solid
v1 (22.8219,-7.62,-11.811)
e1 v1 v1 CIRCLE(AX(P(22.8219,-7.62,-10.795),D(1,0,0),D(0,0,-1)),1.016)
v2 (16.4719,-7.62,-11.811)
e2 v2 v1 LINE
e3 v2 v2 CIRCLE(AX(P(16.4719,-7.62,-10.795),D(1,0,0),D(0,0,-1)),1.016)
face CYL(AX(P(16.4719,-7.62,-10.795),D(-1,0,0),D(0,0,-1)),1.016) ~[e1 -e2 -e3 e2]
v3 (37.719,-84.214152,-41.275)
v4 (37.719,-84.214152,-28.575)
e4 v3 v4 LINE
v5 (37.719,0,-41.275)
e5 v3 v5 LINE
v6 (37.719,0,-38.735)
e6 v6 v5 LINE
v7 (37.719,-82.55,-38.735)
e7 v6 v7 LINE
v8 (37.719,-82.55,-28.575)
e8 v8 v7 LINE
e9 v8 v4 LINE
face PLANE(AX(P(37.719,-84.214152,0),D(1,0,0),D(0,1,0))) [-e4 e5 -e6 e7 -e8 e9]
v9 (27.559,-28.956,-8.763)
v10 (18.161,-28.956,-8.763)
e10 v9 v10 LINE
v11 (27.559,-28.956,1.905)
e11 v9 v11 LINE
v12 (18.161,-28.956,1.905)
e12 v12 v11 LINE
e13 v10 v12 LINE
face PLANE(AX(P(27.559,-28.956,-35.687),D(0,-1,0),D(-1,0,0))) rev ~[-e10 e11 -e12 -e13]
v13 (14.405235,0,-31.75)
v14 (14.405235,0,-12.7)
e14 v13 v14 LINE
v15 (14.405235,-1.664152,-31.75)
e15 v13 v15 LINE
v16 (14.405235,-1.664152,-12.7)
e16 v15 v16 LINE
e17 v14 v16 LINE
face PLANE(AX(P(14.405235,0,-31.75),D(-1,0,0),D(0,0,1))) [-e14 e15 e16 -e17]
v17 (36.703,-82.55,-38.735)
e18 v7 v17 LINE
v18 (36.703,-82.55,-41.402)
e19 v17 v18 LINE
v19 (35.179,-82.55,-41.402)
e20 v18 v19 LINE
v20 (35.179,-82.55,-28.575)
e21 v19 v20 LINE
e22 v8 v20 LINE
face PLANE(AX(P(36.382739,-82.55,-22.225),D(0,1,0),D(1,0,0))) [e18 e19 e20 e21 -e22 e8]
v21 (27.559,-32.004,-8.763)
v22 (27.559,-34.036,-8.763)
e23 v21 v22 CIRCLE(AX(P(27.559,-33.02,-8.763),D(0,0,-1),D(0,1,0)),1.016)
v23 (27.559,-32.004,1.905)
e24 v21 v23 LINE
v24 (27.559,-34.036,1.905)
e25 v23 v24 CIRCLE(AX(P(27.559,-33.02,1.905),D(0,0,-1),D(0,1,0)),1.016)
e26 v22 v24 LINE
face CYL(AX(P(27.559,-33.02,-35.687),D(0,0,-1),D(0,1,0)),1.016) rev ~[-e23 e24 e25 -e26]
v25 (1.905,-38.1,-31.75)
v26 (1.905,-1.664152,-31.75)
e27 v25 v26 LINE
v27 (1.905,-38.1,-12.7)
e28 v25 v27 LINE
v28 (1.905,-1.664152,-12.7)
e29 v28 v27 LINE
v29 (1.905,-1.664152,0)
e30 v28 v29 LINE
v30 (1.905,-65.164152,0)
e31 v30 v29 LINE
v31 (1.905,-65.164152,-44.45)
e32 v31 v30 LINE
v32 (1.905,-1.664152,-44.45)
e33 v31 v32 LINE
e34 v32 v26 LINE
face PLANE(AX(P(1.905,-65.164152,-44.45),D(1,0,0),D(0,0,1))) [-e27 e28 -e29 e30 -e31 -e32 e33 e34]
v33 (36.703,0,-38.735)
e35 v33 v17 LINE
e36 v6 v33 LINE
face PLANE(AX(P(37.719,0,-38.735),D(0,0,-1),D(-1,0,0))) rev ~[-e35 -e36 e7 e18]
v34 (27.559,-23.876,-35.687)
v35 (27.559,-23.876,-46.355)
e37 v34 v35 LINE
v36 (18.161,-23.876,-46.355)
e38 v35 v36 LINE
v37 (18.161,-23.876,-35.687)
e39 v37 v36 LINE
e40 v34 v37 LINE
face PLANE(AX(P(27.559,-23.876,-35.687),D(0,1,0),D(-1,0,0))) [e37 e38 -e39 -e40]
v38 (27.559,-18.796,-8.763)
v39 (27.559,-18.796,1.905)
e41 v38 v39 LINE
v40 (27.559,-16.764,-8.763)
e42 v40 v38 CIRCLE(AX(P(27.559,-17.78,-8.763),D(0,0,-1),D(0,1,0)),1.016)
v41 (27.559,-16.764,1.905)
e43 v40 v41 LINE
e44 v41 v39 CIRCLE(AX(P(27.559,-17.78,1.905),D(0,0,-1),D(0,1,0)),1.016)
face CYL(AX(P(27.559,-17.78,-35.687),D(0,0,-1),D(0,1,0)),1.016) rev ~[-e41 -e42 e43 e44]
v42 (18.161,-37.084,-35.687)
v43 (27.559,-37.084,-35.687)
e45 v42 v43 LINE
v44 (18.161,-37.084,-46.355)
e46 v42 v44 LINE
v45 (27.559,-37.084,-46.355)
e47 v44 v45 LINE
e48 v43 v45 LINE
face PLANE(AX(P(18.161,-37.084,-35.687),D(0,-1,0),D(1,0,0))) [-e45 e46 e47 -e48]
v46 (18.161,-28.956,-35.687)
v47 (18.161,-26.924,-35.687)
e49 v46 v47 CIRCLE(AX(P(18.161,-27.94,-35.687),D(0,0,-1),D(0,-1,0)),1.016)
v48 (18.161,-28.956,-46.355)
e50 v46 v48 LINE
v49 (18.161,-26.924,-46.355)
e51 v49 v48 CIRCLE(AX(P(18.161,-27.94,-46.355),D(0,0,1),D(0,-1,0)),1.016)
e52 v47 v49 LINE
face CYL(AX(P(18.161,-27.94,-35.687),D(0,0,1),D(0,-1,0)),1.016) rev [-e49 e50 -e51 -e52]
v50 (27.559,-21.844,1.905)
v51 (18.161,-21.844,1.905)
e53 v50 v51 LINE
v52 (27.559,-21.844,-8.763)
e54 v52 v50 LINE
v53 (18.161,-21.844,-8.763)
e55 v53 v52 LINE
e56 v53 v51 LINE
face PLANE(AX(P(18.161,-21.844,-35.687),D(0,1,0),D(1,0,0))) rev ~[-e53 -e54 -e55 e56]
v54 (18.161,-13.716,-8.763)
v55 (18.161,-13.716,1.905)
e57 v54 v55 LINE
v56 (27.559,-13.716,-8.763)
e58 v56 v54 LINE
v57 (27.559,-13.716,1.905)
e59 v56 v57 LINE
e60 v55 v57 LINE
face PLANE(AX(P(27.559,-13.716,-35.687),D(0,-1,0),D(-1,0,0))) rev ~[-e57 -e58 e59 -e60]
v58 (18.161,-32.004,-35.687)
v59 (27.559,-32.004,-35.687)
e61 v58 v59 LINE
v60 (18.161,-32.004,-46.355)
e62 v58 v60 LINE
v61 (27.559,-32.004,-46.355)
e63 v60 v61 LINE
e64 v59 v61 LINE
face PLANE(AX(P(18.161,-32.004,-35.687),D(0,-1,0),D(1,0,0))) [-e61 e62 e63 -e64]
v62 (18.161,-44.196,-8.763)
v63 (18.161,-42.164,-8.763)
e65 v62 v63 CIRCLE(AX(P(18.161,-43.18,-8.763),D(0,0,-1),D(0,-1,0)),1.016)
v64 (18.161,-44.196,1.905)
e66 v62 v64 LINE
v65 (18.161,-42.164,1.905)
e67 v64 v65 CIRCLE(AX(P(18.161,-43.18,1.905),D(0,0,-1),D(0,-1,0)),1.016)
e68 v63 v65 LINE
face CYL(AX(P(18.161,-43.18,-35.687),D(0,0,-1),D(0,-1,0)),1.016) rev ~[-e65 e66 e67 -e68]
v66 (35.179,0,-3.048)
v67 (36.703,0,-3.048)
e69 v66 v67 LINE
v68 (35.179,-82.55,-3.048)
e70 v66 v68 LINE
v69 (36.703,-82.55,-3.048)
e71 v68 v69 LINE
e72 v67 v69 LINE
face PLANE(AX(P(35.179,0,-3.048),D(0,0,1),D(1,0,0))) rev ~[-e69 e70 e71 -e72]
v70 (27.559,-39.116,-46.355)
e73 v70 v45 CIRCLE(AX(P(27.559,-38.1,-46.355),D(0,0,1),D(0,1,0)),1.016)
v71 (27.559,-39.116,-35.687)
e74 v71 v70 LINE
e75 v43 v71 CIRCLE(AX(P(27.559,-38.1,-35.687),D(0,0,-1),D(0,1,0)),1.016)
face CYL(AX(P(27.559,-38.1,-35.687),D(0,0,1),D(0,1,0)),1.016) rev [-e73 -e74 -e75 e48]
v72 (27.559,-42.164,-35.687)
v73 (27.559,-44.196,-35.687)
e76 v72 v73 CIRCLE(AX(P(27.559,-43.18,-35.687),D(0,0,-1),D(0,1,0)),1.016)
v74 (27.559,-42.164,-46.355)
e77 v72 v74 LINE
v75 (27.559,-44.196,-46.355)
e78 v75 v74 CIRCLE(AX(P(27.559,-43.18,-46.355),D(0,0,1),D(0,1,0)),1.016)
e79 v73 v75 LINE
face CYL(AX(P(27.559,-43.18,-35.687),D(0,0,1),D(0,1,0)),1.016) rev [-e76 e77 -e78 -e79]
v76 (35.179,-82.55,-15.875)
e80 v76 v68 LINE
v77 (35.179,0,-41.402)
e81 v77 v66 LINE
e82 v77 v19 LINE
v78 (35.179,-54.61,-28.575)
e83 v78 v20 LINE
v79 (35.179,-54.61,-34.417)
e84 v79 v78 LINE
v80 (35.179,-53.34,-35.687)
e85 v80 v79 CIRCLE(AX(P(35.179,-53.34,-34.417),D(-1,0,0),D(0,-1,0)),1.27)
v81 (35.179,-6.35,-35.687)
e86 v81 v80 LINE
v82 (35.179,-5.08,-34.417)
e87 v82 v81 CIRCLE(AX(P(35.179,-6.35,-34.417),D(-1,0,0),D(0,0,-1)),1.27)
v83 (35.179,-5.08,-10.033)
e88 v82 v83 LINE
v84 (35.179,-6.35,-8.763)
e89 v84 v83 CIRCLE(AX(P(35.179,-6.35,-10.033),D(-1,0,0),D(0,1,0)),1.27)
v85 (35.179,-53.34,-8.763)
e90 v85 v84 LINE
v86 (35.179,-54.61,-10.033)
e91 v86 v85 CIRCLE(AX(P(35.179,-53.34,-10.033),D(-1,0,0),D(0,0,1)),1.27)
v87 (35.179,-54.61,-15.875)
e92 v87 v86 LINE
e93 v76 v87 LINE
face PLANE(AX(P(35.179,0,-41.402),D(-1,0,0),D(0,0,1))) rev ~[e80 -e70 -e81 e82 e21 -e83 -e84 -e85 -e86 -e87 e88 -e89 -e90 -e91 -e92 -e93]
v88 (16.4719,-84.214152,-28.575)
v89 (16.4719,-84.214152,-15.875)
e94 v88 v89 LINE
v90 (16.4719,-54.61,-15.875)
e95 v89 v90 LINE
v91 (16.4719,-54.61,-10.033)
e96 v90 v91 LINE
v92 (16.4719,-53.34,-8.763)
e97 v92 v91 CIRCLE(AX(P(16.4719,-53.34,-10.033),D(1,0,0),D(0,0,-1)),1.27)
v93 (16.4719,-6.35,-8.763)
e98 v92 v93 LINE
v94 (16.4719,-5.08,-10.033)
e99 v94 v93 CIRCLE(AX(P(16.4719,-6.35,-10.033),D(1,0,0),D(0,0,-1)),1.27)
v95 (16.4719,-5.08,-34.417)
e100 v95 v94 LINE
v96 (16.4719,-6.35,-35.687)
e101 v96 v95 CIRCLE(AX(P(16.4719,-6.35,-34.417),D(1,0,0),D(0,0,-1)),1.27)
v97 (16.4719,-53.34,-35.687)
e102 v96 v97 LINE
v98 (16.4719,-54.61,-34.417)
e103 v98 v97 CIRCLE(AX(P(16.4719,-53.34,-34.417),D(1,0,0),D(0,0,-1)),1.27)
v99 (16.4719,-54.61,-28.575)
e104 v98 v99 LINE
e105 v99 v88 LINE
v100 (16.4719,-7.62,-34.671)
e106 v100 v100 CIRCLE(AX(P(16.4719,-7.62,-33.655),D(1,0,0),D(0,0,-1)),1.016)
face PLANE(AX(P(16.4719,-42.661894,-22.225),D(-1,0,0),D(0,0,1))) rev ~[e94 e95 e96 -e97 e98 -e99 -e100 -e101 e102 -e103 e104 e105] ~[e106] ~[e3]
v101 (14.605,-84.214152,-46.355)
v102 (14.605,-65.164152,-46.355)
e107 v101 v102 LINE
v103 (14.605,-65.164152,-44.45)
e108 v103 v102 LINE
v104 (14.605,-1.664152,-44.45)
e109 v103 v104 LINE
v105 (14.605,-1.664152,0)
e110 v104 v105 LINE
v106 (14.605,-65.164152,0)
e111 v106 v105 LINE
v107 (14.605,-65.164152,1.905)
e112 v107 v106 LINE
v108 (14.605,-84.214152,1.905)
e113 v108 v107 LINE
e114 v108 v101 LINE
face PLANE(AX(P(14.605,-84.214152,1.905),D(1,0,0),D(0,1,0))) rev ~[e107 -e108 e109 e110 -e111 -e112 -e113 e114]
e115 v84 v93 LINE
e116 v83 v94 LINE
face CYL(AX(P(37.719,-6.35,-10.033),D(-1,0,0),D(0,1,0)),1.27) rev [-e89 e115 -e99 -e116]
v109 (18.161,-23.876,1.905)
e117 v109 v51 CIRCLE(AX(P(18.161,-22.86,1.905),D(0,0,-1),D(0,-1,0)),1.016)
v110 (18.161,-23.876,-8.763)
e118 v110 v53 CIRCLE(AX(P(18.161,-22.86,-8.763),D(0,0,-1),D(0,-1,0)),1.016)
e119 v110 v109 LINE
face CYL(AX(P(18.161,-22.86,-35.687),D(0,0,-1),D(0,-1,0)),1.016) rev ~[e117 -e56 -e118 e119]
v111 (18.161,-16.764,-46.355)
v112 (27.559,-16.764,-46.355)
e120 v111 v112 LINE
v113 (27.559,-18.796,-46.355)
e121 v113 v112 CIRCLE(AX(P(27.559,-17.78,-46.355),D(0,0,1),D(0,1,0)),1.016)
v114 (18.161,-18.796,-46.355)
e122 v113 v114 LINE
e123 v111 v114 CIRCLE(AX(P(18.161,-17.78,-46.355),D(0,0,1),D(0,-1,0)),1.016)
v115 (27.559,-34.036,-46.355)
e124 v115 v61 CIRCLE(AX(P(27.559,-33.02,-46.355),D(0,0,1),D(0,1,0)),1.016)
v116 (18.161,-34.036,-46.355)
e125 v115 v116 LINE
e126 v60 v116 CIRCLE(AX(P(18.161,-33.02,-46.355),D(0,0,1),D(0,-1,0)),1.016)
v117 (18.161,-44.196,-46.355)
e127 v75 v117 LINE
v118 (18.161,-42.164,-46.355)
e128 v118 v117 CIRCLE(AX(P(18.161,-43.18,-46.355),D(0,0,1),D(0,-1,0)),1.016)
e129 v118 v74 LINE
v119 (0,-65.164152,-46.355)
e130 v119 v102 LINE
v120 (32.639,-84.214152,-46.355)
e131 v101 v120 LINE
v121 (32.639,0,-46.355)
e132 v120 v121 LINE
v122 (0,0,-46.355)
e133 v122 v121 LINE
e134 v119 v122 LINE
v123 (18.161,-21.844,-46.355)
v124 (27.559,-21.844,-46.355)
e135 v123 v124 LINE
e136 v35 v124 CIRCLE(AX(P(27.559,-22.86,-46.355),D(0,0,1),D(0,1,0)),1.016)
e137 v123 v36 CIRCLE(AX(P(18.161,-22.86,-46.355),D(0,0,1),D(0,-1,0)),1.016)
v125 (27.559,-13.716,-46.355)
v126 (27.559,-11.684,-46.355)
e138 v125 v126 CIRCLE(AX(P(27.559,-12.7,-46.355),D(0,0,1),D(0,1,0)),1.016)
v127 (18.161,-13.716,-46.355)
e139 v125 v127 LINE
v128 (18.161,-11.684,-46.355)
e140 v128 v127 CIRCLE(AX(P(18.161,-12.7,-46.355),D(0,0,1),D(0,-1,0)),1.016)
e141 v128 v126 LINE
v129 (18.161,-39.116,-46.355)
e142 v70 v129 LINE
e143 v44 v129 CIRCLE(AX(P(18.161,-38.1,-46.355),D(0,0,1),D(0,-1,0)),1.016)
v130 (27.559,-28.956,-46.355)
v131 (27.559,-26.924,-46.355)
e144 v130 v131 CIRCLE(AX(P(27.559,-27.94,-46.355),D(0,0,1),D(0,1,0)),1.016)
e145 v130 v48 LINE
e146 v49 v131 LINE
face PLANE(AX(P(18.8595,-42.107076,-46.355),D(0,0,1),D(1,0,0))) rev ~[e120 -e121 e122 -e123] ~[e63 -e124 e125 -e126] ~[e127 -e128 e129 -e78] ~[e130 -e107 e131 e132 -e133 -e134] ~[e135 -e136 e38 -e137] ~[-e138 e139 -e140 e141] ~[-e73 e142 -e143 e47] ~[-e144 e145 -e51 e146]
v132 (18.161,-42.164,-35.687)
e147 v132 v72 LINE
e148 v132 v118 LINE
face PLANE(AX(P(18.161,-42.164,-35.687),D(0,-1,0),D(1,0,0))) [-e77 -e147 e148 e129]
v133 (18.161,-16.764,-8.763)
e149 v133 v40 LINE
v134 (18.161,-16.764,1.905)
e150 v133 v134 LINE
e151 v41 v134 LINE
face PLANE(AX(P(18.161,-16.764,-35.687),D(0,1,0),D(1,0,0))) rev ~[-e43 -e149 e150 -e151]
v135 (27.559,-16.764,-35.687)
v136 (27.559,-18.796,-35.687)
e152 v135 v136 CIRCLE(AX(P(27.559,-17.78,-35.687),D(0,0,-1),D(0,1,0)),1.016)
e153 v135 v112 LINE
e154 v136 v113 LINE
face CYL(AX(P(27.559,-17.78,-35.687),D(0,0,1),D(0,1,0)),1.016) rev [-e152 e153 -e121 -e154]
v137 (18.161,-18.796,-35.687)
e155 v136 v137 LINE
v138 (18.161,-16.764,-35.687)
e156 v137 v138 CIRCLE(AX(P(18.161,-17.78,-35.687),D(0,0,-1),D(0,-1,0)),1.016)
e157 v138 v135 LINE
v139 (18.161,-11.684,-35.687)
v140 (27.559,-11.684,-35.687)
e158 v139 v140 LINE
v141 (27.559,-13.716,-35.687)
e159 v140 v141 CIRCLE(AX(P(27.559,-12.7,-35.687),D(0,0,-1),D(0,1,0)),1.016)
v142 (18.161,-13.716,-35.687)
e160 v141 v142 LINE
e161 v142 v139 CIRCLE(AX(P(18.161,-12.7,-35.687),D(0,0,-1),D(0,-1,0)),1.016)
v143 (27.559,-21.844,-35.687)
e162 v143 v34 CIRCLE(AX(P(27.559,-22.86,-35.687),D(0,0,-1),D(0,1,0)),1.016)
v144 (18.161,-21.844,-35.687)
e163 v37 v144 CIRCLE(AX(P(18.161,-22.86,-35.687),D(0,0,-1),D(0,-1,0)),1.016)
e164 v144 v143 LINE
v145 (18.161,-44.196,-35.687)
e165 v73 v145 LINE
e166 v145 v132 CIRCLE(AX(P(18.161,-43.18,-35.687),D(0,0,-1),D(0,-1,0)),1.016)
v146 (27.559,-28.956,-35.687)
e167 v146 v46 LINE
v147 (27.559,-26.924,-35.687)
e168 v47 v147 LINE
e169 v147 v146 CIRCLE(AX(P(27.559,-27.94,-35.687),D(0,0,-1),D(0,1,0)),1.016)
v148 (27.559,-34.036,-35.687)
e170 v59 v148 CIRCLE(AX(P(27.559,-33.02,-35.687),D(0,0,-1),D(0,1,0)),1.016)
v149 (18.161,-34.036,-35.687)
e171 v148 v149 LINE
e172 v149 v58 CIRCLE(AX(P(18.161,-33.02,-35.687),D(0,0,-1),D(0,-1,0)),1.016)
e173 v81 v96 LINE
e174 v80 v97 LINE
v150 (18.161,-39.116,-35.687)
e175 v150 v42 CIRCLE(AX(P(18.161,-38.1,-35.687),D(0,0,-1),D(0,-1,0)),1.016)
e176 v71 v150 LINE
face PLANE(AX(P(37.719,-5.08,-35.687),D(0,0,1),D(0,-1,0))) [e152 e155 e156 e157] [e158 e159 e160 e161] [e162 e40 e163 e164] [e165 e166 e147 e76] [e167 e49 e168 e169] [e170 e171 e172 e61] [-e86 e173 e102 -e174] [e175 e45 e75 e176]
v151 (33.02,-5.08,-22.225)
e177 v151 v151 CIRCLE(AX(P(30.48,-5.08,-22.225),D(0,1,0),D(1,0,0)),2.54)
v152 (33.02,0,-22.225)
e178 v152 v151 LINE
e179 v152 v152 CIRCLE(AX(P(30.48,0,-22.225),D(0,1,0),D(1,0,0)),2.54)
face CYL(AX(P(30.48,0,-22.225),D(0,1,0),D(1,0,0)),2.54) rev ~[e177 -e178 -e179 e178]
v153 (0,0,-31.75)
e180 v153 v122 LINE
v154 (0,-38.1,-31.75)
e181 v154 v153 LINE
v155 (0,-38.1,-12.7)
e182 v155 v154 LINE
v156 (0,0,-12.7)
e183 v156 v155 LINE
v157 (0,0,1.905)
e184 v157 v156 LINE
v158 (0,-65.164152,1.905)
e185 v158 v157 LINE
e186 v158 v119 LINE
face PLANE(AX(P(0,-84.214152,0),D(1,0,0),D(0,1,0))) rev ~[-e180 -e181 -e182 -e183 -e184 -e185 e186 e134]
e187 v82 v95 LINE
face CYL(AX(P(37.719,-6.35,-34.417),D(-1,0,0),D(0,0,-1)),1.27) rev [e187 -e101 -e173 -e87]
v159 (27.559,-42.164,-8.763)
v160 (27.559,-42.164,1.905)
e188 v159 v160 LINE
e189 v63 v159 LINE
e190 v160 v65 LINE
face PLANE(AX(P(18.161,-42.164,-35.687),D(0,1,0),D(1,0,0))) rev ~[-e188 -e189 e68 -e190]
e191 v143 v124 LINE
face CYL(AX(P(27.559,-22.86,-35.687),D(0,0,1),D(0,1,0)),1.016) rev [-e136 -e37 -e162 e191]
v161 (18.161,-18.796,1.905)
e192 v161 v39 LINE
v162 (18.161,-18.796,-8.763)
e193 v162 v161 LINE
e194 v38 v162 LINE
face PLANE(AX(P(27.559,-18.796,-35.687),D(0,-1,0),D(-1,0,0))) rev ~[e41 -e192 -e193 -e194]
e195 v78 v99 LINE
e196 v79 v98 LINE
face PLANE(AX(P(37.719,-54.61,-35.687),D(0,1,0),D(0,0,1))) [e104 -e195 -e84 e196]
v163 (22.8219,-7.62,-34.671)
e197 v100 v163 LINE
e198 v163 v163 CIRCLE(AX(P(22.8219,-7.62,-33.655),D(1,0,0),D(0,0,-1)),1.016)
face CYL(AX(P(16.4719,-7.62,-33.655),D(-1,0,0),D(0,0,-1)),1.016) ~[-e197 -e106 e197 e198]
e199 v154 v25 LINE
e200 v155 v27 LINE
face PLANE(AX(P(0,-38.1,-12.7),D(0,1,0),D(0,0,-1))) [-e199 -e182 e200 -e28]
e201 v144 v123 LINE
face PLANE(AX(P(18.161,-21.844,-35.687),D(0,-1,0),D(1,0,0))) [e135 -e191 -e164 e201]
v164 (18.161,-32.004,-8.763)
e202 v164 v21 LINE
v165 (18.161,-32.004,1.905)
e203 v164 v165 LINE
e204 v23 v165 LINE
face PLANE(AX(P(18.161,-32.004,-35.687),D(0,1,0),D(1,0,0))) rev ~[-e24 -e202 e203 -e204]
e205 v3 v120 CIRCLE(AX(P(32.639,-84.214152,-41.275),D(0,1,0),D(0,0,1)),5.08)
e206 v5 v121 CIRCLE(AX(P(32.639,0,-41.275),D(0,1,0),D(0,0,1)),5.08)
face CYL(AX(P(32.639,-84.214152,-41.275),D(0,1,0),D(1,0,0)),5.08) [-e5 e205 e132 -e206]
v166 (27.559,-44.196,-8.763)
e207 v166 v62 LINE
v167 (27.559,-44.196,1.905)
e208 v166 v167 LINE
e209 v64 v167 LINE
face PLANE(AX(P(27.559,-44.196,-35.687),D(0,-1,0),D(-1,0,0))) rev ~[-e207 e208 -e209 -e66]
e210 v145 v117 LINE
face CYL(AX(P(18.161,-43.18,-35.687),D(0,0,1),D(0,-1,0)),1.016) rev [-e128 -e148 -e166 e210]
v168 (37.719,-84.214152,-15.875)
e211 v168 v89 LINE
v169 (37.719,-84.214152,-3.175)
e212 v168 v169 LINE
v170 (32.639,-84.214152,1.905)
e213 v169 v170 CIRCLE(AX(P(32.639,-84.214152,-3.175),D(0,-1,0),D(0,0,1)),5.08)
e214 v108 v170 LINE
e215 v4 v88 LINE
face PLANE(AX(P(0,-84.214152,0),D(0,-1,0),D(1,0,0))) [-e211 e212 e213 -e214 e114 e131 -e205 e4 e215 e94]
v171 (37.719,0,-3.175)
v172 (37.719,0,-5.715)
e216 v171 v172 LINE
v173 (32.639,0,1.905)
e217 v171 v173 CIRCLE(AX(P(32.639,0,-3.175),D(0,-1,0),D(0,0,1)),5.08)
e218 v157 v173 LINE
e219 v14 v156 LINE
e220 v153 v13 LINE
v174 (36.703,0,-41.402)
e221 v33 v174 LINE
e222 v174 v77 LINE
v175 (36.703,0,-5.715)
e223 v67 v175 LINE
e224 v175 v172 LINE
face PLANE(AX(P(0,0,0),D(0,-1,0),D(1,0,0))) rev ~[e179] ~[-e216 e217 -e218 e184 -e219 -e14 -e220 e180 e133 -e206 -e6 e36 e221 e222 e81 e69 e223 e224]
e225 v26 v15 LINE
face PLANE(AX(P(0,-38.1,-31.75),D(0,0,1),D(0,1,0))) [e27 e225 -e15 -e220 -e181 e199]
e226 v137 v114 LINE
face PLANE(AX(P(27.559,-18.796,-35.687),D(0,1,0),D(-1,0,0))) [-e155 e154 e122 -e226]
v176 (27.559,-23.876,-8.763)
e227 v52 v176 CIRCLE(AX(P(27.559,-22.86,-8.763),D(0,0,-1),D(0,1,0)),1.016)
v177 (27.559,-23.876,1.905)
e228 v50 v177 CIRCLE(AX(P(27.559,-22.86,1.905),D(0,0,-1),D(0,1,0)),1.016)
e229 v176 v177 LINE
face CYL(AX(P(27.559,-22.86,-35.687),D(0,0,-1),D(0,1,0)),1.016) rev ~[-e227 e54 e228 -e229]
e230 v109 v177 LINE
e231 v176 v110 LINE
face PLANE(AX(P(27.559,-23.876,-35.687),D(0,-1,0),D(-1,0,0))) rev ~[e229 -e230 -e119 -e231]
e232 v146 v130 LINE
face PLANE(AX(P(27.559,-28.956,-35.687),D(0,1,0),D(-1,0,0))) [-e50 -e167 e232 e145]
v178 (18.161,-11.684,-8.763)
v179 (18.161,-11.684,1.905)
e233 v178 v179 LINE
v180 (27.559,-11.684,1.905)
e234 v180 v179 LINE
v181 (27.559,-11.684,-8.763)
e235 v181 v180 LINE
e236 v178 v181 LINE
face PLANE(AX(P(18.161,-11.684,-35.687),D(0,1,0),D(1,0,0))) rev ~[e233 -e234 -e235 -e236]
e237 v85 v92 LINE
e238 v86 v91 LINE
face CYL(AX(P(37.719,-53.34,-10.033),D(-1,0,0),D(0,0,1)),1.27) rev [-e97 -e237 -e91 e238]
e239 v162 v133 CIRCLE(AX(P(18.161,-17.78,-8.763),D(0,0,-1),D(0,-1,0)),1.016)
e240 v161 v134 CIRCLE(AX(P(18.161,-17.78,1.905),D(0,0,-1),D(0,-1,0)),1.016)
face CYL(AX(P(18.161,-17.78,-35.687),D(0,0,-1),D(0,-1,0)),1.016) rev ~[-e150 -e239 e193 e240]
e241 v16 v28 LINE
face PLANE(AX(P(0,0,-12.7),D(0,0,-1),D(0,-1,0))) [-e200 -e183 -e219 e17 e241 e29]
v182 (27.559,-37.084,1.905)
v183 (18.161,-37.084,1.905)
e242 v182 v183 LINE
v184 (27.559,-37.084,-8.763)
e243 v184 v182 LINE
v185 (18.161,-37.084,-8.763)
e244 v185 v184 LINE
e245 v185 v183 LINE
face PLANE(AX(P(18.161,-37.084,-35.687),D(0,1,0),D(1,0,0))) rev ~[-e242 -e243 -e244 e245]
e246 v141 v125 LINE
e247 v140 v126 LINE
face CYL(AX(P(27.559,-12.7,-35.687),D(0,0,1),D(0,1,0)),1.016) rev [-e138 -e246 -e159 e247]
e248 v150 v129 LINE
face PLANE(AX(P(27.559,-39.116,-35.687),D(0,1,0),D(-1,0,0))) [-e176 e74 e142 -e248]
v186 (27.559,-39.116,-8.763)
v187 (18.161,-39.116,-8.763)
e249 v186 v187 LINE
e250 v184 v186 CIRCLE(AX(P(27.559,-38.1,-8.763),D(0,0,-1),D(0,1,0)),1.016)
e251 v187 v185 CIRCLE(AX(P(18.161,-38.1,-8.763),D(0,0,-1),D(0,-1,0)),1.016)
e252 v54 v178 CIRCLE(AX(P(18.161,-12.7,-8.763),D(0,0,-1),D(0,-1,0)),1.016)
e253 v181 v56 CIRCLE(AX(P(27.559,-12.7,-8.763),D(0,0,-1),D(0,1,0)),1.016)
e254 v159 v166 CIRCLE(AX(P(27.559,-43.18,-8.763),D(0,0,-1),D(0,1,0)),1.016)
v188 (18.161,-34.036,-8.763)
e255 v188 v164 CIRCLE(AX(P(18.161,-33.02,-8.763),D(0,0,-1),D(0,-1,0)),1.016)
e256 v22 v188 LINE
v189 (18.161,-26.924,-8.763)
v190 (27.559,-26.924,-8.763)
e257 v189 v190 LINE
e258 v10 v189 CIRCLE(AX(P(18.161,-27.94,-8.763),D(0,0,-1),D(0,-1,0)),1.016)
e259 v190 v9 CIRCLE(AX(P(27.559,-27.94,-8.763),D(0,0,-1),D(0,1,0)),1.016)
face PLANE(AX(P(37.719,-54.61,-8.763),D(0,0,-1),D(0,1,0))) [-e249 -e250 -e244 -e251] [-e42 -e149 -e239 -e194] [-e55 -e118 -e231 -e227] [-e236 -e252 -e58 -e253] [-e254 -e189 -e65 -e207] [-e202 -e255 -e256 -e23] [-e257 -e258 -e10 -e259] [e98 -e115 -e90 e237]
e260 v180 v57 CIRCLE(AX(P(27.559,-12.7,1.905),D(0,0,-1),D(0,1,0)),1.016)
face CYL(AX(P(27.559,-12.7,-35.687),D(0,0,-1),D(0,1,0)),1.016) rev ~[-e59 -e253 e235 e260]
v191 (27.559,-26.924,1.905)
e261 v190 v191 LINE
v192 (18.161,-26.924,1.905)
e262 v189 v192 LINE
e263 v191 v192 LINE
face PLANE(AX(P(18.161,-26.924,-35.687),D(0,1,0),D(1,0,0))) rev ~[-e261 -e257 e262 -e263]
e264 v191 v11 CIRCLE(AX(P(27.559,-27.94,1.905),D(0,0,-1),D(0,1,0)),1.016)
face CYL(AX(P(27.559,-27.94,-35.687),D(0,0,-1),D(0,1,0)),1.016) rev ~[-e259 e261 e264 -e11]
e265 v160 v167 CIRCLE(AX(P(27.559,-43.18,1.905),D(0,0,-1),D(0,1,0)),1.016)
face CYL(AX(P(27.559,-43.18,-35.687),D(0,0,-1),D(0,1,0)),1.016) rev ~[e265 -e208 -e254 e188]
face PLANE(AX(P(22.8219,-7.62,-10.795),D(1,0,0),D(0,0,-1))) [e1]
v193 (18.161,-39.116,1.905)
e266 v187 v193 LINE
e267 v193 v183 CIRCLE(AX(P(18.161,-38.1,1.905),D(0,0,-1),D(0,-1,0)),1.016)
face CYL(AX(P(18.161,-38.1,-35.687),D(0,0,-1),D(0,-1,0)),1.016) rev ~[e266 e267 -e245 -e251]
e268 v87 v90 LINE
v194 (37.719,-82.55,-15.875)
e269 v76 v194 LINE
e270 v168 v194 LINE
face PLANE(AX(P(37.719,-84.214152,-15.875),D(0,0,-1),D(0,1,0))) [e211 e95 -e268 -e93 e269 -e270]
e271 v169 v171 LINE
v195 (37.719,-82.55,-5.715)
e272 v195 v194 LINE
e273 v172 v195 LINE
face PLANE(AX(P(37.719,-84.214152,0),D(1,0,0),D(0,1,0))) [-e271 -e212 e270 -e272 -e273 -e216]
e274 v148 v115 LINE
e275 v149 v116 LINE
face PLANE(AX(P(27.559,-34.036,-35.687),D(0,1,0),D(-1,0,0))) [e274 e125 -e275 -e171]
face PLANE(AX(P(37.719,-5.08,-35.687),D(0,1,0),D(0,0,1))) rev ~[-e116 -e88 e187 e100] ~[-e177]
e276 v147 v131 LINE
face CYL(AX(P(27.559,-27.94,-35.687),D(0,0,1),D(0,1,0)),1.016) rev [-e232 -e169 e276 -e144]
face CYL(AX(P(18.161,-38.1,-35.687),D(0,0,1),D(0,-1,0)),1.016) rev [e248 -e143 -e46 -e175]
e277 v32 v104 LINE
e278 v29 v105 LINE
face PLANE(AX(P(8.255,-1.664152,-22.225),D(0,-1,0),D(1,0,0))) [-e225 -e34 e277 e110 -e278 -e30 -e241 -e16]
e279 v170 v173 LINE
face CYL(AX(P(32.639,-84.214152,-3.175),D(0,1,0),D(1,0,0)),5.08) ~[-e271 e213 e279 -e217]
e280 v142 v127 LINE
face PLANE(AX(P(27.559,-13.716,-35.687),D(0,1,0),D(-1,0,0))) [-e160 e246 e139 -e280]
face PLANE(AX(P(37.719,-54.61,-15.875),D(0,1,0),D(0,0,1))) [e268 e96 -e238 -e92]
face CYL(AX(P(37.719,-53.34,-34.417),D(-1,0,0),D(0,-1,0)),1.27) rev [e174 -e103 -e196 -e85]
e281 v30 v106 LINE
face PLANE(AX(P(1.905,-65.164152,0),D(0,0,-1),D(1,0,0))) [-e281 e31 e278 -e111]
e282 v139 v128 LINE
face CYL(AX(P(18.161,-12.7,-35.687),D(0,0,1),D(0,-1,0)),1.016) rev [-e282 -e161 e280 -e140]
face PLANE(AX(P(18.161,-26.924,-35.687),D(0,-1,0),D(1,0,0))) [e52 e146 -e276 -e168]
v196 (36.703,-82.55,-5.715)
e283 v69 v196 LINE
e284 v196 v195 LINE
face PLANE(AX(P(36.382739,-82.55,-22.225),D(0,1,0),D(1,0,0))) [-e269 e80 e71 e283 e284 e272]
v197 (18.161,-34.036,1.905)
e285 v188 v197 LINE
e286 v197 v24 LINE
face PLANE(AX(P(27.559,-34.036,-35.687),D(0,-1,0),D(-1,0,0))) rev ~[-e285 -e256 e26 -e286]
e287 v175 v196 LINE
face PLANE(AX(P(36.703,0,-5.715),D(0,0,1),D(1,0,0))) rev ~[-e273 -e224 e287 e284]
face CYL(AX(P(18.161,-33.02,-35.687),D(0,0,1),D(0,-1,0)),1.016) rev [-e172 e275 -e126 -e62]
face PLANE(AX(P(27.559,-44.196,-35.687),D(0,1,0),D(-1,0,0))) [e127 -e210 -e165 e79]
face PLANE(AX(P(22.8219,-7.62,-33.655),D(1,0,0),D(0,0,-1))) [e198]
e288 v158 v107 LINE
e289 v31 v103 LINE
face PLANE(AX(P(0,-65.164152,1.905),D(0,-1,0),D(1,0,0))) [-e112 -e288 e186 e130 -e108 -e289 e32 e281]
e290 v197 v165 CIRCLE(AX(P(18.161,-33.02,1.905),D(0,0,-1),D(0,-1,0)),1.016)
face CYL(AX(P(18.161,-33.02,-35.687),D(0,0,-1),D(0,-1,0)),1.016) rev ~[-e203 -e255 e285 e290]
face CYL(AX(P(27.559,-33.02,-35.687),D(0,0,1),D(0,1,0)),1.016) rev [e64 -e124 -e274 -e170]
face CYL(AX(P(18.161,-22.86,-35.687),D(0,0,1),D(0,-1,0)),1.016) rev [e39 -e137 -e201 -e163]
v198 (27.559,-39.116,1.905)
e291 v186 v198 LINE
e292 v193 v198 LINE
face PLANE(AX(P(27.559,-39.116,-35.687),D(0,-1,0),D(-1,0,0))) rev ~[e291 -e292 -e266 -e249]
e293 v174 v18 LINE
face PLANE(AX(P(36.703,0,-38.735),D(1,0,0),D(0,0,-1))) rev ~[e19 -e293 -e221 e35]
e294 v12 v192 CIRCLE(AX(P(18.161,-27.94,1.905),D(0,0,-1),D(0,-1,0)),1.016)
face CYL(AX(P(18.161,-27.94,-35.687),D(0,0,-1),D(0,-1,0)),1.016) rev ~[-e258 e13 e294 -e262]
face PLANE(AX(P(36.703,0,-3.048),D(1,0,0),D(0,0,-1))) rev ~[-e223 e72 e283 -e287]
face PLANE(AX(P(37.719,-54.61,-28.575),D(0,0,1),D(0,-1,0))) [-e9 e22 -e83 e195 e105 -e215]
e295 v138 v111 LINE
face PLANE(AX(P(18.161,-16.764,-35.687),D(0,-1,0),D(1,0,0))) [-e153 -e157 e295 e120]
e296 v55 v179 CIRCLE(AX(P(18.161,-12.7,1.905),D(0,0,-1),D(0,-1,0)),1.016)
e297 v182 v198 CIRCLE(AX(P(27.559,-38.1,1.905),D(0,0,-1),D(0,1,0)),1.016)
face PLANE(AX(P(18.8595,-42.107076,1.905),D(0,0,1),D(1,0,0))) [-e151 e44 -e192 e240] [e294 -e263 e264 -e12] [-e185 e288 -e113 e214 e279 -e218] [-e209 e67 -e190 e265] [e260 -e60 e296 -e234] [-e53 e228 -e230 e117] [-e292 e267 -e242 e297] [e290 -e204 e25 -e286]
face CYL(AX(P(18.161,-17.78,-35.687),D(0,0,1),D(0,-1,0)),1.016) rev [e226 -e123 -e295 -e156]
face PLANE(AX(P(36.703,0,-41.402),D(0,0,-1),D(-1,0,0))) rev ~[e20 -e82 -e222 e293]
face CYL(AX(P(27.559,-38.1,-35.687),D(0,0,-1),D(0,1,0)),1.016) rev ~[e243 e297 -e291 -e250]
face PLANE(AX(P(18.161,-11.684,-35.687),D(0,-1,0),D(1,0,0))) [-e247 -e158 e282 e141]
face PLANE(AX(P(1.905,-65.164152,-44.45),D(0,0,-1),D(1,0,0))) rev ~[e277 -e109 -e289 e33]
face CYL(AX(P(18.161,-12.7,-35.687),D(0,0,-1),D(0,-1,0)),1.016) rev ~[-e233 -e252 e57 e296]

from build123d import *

# Parameters (mm, degrees)
SKETCH1_W                = 37.719
SKETCH1_H                = 84.214152012
BOSS_EXTRUDE1_DEPTH      = 1.905
BOSS_EXTRUDE1_DEPTH_BACK = 46.355
SKETCH3_W                = 14.605
SKETCH3_H                = 19.05
CUT_EXTRUDE1_DEPTH       = 49.26
CUT_EXTRUDE2_DEPTH       = 65.405
CUT_EXTRUDE3_REACH       = 39.719
SKETCH6_W                = 12.7
SKETCH6_H                = 44.45
CUT_EXTRUDE4_DEPTH       = 63.5
CUT_EXTRUDE5_DEPTH       = 21.2471
SKETCH8_R                = 1.016
BOSS_EXTRUDE2_DEPTH      = 6.35
FILLET1_R                = 1.27
CUT_EXTRUDE7_DEPTH       = 82.55
FILLET2_R                = 5.08
CUT_EXTRUDE8_DEPTH       = 38.592
CUT_EXTRUDE8_DEPTH_BACK  = 11.668
CUT_EXTRUDE9_REACH       = 86.214
SKETCH12_R               = 2.54


with BuildPart() as part:
    # Sketch1 → Boss-Extrude1 (new body, two sides)
    with BuildSketch(Plane.XY) as boss_extrude1_sk:
        with Locations((18.8595, -42.107076006)):
            Rectangle(SKETCH1_W, SKETCH1_H)
    extrude(amount=BOSS_EXTRUDE1_DEPTH)
    extrude(boss_extrude1_sk.sketch, amount=-BOSS_EXTRUDE1_DEPTH_BACK)

    # Sketch3 → Cut-Extrude1 (cut, through all)
    with BuildSketch(Plane.XY.offset(1.905)):
        with Locations((7.3025, -74.689152012)):
            Rectangle(SKETCH3_W, SKETCH3_H)
    extrude(amount=-CUT_EXTRUDE1_DEPTH, mode=Mode.SUBTRACT)

    # Sketch4 → Cut-Extrude2 (cut)
    with BuildSketch(Plane(origin=(0, 0, 0), x_dir=(1, 0, 0), z_dir=(0, 1, 0))):
        Polygon((1.905, 22.225), (1.905, 31.75), (14.405235248, 31.75), (14.405235248, 12.7), (1.905, 12.7), align=None)
    extrude(amount=-CUT_EXTRUDE2_DEPTH, mode=Mode.SUBTRACT)

    # Sketch5 → Cut-Extrude3 (cut, up to next)
    with BuildSketch(Plane.ZY, mode=Mode.PRIVATE) as cut_extrude3_sk1:
        Polygon((-22.225, 0), (-12.7, 0), (-12.7, -38.1), (-31.75, -38.1), (-31.75, 0), align=None)
    cut_extrude3_tool1 = extrude(cut_extrude3_sk1.sketch, amount=-CUT_EXTRUDE3_REACH, mode=Mode.PRIVATE) & part.part
    add(cut_extrude3_tool1.solids().sort_by_distance((0, -19.05, -22.225))[0], mode=Mode.SUBTRACT)

    # Sketch6 → Cut-Extrude4 (cut)
    with BuildSketch(Plane.XZ.offset(65.164152012)):
        with Locations((8.255, -22.225)):
            Rectangle(SKETCH6_W, SKETCH6_H)
    extrude(amount=-CUT_EXTRUDE4_DEPTH, mode=Mode.SUBTRACT)

    # Sketch7 → Cut-Extrude5 (cut)
    with BuildSketch(Plane(origin=(37.719, 0, 0), x_dir=(0, 0, -1), z_dir=(1, 0, 0))):
        Polygon((22.225, -5.08), (35.687, -5.08), (35.687, -54.61), (28.575, -54.61), (28.575, -84.214152012), (15.875, -84.214152012), (15.875, -54.61), (8.763, -54.61), (8.763, -5.08), align=None)
    extrude(amount=-CUT_EXTRUDE5_DEPTH, mode=Mode.SUBTRACT)

    # Sketch8 → Boss-Extrude2 (add)
    with BuildSketch(Plane(origin=(16.4719, 0, 0), x_dir=(0, 0, -1), z_dir=(1, 0, 0))):
        with Locations((33.655, -7.62)):
            Circle(SKETCH8_R)
        with Locations((10.795, -7.62)):
            Circle(SKETCH8_R)
    extrude(amount=BOSS_EXTRUDE2_DEPTH)

    # Fillet1
    fillet1_edges = [part.edges().sort_by_distance(p)[0] for p in [
        (27.09545, -5.08, -8.763),
        (27.09545, -5.08, -35.687),
        (27.09545, -54.61, -35.687),
        (27.09545, -54.61, -8.763),
    ]]
    fillet(fillet1_edges, radius=FILLET1_R)

    # Sketch9 → Cut-Extrude7 (cut)
    with BuildSketch(Plane(origin=(0, 0, 0), x_dir=(1, 0, 0), z_dir=(0, 1, 0))):
        Polygon((36.703, 41.402), (35.179, 41.402), (35.179, 3.048), (36.703, 3.048), (36.703, 5.715), (37.719, 5.715), (37.719, 22.225), (37.719, 38.735), (36.703, 38.735), align=None)
    extrude(amount=-CUT_EXTRUDE7_DEPTH, mode=Mode.SUBTRACT)

    # Fillet2
    fillet2_edges = [part.edges().sort_by_distance(p)[0] for p in [
        (37.719, -42.107076006, -46.355),
        (37.719, -42.107076006, 1.905),
    ]]
    fillet(fillet2_edges, radius=FILLET2_R)

    # Sketch10 → Cut-Extrude8 (cut, two sides)
    with BuildSketch(Plane.XY.offset(-35.687)) as cut_extrude8_sk:
        with BuildLine():
            Line((27.559, -13.716), (18.161, -13.716))
            ThreePointArc((18.161, -13.716), (17.145, -12.7), (18.161, -11.684))
            Line((18.161, -11.684), (27.559, -11.684))
            ThreePointArc((27.559, -11.684), (28.575, -12.7), (27.559, -13.716))
        make_face()
        with BuildLine():
            Line((27.559, -18.796), (18.161, -18.796))
            ThreePointArc((18.161, -18.796), (17.145, -17.78), (18.161, -16.764))
            Line((18.161, -16.764), (27.559, -16.764))
            ThreePointArc((27.559, -16.764), (28.575, -17.78), (27.559, -18.796))
        make_face()
        with BuildLine():
            Line((27.559, -23.876), (18.161, -23.876))
            ThreePointArc((18.161, -23.876), (17.145, -22.86), (18.161, -21.844))
            Line((18.161, -21.844), (27.559, -21.844))
            ThreePointArc((27.559, -21.844), (28.575, -22.86), (27.559, -23.876))
        make_face()
        with BuildLine():
            Line((27.559, -28.956), (18.161, -28.956))
            ThreePointArc((18.161, -28.956), (17.145, -27.94), (18.161, -26.924))
            Line((18.161, -26.924), (27.559, -26.924))
            ThreePointArc((27.559, -26.924), (28.575, -27.94), (27.559, -28.956))
        make_face()
        with BuildLine():
            Line((27.559, -34.036), (18.161, -34.036))
            ThreePointArc((18.161, -34.036), (17.145, -33.02), (18.161, -32.004))
            Line((18.161, -32.004), (27.559, -32.004))
            ThreePointArc((27.559, -32.004), (28.575, -33.02), (27.559, -34.036))
        make_face()
        with BuildLine():
            Line((27.559, -39.116), (18.161, -39.116))
            ThreePointArc((18.161, -39.116), (17.145, -38.1), (18.161, -37.084))
            Line((18.161, -37.084), (27.559, -37.084))
            ThreePointArc((27.559, -37.084), (28.575, -38.1), (27.559, -39.116))
        make_face()
        with BuildLine():
            Line((27.559, -44.196), (18.161, -44.196))
            ThreePointArc((18.161, -44.196), (17.145, -43.18), (18.161, -42.164))
            Line((18.161, -42.164), (27.559, -42.164))
            ThreePointArc((27.559, -42.164), (28.575, -43.18), (27.559, -44.196))
        make_face()
    extrude(amount=CUT_EXTRUDE8_DEPTH, mode=Mode.SUBTRACT)
    extrude(cut_extrude8_sk.sketch, amount=-CUT_EXTRUDE8_DEPTH_BACK, mode=Mode.SUBTRACT)

    # Sketch12 → Cut-Extrude9 (cut, up to next)
    with BuildSketch(Plane(origin=(0, 0, 0), x_dir=(1, 0, 0), z_dir=(0, 1, 0)), mode=Mode.PRIVATE) as cut_extrude9_sk1:
        with Locations((30.48, 22.225)):
            Circle(SKETCH12_R)
    cut_extrude9_tool1 = extrude(cut_extrude9_sk1.sketch, amount=-CUT_EXTRUDE9_REACH, mode=Mode.PRIVATE) & part.part
    add(cut_extrude9_tool1.solids().sort_by_distance((30.48, 0, -22.225))[0], mode=Mode.SUBTRACT)


solid = part.part
